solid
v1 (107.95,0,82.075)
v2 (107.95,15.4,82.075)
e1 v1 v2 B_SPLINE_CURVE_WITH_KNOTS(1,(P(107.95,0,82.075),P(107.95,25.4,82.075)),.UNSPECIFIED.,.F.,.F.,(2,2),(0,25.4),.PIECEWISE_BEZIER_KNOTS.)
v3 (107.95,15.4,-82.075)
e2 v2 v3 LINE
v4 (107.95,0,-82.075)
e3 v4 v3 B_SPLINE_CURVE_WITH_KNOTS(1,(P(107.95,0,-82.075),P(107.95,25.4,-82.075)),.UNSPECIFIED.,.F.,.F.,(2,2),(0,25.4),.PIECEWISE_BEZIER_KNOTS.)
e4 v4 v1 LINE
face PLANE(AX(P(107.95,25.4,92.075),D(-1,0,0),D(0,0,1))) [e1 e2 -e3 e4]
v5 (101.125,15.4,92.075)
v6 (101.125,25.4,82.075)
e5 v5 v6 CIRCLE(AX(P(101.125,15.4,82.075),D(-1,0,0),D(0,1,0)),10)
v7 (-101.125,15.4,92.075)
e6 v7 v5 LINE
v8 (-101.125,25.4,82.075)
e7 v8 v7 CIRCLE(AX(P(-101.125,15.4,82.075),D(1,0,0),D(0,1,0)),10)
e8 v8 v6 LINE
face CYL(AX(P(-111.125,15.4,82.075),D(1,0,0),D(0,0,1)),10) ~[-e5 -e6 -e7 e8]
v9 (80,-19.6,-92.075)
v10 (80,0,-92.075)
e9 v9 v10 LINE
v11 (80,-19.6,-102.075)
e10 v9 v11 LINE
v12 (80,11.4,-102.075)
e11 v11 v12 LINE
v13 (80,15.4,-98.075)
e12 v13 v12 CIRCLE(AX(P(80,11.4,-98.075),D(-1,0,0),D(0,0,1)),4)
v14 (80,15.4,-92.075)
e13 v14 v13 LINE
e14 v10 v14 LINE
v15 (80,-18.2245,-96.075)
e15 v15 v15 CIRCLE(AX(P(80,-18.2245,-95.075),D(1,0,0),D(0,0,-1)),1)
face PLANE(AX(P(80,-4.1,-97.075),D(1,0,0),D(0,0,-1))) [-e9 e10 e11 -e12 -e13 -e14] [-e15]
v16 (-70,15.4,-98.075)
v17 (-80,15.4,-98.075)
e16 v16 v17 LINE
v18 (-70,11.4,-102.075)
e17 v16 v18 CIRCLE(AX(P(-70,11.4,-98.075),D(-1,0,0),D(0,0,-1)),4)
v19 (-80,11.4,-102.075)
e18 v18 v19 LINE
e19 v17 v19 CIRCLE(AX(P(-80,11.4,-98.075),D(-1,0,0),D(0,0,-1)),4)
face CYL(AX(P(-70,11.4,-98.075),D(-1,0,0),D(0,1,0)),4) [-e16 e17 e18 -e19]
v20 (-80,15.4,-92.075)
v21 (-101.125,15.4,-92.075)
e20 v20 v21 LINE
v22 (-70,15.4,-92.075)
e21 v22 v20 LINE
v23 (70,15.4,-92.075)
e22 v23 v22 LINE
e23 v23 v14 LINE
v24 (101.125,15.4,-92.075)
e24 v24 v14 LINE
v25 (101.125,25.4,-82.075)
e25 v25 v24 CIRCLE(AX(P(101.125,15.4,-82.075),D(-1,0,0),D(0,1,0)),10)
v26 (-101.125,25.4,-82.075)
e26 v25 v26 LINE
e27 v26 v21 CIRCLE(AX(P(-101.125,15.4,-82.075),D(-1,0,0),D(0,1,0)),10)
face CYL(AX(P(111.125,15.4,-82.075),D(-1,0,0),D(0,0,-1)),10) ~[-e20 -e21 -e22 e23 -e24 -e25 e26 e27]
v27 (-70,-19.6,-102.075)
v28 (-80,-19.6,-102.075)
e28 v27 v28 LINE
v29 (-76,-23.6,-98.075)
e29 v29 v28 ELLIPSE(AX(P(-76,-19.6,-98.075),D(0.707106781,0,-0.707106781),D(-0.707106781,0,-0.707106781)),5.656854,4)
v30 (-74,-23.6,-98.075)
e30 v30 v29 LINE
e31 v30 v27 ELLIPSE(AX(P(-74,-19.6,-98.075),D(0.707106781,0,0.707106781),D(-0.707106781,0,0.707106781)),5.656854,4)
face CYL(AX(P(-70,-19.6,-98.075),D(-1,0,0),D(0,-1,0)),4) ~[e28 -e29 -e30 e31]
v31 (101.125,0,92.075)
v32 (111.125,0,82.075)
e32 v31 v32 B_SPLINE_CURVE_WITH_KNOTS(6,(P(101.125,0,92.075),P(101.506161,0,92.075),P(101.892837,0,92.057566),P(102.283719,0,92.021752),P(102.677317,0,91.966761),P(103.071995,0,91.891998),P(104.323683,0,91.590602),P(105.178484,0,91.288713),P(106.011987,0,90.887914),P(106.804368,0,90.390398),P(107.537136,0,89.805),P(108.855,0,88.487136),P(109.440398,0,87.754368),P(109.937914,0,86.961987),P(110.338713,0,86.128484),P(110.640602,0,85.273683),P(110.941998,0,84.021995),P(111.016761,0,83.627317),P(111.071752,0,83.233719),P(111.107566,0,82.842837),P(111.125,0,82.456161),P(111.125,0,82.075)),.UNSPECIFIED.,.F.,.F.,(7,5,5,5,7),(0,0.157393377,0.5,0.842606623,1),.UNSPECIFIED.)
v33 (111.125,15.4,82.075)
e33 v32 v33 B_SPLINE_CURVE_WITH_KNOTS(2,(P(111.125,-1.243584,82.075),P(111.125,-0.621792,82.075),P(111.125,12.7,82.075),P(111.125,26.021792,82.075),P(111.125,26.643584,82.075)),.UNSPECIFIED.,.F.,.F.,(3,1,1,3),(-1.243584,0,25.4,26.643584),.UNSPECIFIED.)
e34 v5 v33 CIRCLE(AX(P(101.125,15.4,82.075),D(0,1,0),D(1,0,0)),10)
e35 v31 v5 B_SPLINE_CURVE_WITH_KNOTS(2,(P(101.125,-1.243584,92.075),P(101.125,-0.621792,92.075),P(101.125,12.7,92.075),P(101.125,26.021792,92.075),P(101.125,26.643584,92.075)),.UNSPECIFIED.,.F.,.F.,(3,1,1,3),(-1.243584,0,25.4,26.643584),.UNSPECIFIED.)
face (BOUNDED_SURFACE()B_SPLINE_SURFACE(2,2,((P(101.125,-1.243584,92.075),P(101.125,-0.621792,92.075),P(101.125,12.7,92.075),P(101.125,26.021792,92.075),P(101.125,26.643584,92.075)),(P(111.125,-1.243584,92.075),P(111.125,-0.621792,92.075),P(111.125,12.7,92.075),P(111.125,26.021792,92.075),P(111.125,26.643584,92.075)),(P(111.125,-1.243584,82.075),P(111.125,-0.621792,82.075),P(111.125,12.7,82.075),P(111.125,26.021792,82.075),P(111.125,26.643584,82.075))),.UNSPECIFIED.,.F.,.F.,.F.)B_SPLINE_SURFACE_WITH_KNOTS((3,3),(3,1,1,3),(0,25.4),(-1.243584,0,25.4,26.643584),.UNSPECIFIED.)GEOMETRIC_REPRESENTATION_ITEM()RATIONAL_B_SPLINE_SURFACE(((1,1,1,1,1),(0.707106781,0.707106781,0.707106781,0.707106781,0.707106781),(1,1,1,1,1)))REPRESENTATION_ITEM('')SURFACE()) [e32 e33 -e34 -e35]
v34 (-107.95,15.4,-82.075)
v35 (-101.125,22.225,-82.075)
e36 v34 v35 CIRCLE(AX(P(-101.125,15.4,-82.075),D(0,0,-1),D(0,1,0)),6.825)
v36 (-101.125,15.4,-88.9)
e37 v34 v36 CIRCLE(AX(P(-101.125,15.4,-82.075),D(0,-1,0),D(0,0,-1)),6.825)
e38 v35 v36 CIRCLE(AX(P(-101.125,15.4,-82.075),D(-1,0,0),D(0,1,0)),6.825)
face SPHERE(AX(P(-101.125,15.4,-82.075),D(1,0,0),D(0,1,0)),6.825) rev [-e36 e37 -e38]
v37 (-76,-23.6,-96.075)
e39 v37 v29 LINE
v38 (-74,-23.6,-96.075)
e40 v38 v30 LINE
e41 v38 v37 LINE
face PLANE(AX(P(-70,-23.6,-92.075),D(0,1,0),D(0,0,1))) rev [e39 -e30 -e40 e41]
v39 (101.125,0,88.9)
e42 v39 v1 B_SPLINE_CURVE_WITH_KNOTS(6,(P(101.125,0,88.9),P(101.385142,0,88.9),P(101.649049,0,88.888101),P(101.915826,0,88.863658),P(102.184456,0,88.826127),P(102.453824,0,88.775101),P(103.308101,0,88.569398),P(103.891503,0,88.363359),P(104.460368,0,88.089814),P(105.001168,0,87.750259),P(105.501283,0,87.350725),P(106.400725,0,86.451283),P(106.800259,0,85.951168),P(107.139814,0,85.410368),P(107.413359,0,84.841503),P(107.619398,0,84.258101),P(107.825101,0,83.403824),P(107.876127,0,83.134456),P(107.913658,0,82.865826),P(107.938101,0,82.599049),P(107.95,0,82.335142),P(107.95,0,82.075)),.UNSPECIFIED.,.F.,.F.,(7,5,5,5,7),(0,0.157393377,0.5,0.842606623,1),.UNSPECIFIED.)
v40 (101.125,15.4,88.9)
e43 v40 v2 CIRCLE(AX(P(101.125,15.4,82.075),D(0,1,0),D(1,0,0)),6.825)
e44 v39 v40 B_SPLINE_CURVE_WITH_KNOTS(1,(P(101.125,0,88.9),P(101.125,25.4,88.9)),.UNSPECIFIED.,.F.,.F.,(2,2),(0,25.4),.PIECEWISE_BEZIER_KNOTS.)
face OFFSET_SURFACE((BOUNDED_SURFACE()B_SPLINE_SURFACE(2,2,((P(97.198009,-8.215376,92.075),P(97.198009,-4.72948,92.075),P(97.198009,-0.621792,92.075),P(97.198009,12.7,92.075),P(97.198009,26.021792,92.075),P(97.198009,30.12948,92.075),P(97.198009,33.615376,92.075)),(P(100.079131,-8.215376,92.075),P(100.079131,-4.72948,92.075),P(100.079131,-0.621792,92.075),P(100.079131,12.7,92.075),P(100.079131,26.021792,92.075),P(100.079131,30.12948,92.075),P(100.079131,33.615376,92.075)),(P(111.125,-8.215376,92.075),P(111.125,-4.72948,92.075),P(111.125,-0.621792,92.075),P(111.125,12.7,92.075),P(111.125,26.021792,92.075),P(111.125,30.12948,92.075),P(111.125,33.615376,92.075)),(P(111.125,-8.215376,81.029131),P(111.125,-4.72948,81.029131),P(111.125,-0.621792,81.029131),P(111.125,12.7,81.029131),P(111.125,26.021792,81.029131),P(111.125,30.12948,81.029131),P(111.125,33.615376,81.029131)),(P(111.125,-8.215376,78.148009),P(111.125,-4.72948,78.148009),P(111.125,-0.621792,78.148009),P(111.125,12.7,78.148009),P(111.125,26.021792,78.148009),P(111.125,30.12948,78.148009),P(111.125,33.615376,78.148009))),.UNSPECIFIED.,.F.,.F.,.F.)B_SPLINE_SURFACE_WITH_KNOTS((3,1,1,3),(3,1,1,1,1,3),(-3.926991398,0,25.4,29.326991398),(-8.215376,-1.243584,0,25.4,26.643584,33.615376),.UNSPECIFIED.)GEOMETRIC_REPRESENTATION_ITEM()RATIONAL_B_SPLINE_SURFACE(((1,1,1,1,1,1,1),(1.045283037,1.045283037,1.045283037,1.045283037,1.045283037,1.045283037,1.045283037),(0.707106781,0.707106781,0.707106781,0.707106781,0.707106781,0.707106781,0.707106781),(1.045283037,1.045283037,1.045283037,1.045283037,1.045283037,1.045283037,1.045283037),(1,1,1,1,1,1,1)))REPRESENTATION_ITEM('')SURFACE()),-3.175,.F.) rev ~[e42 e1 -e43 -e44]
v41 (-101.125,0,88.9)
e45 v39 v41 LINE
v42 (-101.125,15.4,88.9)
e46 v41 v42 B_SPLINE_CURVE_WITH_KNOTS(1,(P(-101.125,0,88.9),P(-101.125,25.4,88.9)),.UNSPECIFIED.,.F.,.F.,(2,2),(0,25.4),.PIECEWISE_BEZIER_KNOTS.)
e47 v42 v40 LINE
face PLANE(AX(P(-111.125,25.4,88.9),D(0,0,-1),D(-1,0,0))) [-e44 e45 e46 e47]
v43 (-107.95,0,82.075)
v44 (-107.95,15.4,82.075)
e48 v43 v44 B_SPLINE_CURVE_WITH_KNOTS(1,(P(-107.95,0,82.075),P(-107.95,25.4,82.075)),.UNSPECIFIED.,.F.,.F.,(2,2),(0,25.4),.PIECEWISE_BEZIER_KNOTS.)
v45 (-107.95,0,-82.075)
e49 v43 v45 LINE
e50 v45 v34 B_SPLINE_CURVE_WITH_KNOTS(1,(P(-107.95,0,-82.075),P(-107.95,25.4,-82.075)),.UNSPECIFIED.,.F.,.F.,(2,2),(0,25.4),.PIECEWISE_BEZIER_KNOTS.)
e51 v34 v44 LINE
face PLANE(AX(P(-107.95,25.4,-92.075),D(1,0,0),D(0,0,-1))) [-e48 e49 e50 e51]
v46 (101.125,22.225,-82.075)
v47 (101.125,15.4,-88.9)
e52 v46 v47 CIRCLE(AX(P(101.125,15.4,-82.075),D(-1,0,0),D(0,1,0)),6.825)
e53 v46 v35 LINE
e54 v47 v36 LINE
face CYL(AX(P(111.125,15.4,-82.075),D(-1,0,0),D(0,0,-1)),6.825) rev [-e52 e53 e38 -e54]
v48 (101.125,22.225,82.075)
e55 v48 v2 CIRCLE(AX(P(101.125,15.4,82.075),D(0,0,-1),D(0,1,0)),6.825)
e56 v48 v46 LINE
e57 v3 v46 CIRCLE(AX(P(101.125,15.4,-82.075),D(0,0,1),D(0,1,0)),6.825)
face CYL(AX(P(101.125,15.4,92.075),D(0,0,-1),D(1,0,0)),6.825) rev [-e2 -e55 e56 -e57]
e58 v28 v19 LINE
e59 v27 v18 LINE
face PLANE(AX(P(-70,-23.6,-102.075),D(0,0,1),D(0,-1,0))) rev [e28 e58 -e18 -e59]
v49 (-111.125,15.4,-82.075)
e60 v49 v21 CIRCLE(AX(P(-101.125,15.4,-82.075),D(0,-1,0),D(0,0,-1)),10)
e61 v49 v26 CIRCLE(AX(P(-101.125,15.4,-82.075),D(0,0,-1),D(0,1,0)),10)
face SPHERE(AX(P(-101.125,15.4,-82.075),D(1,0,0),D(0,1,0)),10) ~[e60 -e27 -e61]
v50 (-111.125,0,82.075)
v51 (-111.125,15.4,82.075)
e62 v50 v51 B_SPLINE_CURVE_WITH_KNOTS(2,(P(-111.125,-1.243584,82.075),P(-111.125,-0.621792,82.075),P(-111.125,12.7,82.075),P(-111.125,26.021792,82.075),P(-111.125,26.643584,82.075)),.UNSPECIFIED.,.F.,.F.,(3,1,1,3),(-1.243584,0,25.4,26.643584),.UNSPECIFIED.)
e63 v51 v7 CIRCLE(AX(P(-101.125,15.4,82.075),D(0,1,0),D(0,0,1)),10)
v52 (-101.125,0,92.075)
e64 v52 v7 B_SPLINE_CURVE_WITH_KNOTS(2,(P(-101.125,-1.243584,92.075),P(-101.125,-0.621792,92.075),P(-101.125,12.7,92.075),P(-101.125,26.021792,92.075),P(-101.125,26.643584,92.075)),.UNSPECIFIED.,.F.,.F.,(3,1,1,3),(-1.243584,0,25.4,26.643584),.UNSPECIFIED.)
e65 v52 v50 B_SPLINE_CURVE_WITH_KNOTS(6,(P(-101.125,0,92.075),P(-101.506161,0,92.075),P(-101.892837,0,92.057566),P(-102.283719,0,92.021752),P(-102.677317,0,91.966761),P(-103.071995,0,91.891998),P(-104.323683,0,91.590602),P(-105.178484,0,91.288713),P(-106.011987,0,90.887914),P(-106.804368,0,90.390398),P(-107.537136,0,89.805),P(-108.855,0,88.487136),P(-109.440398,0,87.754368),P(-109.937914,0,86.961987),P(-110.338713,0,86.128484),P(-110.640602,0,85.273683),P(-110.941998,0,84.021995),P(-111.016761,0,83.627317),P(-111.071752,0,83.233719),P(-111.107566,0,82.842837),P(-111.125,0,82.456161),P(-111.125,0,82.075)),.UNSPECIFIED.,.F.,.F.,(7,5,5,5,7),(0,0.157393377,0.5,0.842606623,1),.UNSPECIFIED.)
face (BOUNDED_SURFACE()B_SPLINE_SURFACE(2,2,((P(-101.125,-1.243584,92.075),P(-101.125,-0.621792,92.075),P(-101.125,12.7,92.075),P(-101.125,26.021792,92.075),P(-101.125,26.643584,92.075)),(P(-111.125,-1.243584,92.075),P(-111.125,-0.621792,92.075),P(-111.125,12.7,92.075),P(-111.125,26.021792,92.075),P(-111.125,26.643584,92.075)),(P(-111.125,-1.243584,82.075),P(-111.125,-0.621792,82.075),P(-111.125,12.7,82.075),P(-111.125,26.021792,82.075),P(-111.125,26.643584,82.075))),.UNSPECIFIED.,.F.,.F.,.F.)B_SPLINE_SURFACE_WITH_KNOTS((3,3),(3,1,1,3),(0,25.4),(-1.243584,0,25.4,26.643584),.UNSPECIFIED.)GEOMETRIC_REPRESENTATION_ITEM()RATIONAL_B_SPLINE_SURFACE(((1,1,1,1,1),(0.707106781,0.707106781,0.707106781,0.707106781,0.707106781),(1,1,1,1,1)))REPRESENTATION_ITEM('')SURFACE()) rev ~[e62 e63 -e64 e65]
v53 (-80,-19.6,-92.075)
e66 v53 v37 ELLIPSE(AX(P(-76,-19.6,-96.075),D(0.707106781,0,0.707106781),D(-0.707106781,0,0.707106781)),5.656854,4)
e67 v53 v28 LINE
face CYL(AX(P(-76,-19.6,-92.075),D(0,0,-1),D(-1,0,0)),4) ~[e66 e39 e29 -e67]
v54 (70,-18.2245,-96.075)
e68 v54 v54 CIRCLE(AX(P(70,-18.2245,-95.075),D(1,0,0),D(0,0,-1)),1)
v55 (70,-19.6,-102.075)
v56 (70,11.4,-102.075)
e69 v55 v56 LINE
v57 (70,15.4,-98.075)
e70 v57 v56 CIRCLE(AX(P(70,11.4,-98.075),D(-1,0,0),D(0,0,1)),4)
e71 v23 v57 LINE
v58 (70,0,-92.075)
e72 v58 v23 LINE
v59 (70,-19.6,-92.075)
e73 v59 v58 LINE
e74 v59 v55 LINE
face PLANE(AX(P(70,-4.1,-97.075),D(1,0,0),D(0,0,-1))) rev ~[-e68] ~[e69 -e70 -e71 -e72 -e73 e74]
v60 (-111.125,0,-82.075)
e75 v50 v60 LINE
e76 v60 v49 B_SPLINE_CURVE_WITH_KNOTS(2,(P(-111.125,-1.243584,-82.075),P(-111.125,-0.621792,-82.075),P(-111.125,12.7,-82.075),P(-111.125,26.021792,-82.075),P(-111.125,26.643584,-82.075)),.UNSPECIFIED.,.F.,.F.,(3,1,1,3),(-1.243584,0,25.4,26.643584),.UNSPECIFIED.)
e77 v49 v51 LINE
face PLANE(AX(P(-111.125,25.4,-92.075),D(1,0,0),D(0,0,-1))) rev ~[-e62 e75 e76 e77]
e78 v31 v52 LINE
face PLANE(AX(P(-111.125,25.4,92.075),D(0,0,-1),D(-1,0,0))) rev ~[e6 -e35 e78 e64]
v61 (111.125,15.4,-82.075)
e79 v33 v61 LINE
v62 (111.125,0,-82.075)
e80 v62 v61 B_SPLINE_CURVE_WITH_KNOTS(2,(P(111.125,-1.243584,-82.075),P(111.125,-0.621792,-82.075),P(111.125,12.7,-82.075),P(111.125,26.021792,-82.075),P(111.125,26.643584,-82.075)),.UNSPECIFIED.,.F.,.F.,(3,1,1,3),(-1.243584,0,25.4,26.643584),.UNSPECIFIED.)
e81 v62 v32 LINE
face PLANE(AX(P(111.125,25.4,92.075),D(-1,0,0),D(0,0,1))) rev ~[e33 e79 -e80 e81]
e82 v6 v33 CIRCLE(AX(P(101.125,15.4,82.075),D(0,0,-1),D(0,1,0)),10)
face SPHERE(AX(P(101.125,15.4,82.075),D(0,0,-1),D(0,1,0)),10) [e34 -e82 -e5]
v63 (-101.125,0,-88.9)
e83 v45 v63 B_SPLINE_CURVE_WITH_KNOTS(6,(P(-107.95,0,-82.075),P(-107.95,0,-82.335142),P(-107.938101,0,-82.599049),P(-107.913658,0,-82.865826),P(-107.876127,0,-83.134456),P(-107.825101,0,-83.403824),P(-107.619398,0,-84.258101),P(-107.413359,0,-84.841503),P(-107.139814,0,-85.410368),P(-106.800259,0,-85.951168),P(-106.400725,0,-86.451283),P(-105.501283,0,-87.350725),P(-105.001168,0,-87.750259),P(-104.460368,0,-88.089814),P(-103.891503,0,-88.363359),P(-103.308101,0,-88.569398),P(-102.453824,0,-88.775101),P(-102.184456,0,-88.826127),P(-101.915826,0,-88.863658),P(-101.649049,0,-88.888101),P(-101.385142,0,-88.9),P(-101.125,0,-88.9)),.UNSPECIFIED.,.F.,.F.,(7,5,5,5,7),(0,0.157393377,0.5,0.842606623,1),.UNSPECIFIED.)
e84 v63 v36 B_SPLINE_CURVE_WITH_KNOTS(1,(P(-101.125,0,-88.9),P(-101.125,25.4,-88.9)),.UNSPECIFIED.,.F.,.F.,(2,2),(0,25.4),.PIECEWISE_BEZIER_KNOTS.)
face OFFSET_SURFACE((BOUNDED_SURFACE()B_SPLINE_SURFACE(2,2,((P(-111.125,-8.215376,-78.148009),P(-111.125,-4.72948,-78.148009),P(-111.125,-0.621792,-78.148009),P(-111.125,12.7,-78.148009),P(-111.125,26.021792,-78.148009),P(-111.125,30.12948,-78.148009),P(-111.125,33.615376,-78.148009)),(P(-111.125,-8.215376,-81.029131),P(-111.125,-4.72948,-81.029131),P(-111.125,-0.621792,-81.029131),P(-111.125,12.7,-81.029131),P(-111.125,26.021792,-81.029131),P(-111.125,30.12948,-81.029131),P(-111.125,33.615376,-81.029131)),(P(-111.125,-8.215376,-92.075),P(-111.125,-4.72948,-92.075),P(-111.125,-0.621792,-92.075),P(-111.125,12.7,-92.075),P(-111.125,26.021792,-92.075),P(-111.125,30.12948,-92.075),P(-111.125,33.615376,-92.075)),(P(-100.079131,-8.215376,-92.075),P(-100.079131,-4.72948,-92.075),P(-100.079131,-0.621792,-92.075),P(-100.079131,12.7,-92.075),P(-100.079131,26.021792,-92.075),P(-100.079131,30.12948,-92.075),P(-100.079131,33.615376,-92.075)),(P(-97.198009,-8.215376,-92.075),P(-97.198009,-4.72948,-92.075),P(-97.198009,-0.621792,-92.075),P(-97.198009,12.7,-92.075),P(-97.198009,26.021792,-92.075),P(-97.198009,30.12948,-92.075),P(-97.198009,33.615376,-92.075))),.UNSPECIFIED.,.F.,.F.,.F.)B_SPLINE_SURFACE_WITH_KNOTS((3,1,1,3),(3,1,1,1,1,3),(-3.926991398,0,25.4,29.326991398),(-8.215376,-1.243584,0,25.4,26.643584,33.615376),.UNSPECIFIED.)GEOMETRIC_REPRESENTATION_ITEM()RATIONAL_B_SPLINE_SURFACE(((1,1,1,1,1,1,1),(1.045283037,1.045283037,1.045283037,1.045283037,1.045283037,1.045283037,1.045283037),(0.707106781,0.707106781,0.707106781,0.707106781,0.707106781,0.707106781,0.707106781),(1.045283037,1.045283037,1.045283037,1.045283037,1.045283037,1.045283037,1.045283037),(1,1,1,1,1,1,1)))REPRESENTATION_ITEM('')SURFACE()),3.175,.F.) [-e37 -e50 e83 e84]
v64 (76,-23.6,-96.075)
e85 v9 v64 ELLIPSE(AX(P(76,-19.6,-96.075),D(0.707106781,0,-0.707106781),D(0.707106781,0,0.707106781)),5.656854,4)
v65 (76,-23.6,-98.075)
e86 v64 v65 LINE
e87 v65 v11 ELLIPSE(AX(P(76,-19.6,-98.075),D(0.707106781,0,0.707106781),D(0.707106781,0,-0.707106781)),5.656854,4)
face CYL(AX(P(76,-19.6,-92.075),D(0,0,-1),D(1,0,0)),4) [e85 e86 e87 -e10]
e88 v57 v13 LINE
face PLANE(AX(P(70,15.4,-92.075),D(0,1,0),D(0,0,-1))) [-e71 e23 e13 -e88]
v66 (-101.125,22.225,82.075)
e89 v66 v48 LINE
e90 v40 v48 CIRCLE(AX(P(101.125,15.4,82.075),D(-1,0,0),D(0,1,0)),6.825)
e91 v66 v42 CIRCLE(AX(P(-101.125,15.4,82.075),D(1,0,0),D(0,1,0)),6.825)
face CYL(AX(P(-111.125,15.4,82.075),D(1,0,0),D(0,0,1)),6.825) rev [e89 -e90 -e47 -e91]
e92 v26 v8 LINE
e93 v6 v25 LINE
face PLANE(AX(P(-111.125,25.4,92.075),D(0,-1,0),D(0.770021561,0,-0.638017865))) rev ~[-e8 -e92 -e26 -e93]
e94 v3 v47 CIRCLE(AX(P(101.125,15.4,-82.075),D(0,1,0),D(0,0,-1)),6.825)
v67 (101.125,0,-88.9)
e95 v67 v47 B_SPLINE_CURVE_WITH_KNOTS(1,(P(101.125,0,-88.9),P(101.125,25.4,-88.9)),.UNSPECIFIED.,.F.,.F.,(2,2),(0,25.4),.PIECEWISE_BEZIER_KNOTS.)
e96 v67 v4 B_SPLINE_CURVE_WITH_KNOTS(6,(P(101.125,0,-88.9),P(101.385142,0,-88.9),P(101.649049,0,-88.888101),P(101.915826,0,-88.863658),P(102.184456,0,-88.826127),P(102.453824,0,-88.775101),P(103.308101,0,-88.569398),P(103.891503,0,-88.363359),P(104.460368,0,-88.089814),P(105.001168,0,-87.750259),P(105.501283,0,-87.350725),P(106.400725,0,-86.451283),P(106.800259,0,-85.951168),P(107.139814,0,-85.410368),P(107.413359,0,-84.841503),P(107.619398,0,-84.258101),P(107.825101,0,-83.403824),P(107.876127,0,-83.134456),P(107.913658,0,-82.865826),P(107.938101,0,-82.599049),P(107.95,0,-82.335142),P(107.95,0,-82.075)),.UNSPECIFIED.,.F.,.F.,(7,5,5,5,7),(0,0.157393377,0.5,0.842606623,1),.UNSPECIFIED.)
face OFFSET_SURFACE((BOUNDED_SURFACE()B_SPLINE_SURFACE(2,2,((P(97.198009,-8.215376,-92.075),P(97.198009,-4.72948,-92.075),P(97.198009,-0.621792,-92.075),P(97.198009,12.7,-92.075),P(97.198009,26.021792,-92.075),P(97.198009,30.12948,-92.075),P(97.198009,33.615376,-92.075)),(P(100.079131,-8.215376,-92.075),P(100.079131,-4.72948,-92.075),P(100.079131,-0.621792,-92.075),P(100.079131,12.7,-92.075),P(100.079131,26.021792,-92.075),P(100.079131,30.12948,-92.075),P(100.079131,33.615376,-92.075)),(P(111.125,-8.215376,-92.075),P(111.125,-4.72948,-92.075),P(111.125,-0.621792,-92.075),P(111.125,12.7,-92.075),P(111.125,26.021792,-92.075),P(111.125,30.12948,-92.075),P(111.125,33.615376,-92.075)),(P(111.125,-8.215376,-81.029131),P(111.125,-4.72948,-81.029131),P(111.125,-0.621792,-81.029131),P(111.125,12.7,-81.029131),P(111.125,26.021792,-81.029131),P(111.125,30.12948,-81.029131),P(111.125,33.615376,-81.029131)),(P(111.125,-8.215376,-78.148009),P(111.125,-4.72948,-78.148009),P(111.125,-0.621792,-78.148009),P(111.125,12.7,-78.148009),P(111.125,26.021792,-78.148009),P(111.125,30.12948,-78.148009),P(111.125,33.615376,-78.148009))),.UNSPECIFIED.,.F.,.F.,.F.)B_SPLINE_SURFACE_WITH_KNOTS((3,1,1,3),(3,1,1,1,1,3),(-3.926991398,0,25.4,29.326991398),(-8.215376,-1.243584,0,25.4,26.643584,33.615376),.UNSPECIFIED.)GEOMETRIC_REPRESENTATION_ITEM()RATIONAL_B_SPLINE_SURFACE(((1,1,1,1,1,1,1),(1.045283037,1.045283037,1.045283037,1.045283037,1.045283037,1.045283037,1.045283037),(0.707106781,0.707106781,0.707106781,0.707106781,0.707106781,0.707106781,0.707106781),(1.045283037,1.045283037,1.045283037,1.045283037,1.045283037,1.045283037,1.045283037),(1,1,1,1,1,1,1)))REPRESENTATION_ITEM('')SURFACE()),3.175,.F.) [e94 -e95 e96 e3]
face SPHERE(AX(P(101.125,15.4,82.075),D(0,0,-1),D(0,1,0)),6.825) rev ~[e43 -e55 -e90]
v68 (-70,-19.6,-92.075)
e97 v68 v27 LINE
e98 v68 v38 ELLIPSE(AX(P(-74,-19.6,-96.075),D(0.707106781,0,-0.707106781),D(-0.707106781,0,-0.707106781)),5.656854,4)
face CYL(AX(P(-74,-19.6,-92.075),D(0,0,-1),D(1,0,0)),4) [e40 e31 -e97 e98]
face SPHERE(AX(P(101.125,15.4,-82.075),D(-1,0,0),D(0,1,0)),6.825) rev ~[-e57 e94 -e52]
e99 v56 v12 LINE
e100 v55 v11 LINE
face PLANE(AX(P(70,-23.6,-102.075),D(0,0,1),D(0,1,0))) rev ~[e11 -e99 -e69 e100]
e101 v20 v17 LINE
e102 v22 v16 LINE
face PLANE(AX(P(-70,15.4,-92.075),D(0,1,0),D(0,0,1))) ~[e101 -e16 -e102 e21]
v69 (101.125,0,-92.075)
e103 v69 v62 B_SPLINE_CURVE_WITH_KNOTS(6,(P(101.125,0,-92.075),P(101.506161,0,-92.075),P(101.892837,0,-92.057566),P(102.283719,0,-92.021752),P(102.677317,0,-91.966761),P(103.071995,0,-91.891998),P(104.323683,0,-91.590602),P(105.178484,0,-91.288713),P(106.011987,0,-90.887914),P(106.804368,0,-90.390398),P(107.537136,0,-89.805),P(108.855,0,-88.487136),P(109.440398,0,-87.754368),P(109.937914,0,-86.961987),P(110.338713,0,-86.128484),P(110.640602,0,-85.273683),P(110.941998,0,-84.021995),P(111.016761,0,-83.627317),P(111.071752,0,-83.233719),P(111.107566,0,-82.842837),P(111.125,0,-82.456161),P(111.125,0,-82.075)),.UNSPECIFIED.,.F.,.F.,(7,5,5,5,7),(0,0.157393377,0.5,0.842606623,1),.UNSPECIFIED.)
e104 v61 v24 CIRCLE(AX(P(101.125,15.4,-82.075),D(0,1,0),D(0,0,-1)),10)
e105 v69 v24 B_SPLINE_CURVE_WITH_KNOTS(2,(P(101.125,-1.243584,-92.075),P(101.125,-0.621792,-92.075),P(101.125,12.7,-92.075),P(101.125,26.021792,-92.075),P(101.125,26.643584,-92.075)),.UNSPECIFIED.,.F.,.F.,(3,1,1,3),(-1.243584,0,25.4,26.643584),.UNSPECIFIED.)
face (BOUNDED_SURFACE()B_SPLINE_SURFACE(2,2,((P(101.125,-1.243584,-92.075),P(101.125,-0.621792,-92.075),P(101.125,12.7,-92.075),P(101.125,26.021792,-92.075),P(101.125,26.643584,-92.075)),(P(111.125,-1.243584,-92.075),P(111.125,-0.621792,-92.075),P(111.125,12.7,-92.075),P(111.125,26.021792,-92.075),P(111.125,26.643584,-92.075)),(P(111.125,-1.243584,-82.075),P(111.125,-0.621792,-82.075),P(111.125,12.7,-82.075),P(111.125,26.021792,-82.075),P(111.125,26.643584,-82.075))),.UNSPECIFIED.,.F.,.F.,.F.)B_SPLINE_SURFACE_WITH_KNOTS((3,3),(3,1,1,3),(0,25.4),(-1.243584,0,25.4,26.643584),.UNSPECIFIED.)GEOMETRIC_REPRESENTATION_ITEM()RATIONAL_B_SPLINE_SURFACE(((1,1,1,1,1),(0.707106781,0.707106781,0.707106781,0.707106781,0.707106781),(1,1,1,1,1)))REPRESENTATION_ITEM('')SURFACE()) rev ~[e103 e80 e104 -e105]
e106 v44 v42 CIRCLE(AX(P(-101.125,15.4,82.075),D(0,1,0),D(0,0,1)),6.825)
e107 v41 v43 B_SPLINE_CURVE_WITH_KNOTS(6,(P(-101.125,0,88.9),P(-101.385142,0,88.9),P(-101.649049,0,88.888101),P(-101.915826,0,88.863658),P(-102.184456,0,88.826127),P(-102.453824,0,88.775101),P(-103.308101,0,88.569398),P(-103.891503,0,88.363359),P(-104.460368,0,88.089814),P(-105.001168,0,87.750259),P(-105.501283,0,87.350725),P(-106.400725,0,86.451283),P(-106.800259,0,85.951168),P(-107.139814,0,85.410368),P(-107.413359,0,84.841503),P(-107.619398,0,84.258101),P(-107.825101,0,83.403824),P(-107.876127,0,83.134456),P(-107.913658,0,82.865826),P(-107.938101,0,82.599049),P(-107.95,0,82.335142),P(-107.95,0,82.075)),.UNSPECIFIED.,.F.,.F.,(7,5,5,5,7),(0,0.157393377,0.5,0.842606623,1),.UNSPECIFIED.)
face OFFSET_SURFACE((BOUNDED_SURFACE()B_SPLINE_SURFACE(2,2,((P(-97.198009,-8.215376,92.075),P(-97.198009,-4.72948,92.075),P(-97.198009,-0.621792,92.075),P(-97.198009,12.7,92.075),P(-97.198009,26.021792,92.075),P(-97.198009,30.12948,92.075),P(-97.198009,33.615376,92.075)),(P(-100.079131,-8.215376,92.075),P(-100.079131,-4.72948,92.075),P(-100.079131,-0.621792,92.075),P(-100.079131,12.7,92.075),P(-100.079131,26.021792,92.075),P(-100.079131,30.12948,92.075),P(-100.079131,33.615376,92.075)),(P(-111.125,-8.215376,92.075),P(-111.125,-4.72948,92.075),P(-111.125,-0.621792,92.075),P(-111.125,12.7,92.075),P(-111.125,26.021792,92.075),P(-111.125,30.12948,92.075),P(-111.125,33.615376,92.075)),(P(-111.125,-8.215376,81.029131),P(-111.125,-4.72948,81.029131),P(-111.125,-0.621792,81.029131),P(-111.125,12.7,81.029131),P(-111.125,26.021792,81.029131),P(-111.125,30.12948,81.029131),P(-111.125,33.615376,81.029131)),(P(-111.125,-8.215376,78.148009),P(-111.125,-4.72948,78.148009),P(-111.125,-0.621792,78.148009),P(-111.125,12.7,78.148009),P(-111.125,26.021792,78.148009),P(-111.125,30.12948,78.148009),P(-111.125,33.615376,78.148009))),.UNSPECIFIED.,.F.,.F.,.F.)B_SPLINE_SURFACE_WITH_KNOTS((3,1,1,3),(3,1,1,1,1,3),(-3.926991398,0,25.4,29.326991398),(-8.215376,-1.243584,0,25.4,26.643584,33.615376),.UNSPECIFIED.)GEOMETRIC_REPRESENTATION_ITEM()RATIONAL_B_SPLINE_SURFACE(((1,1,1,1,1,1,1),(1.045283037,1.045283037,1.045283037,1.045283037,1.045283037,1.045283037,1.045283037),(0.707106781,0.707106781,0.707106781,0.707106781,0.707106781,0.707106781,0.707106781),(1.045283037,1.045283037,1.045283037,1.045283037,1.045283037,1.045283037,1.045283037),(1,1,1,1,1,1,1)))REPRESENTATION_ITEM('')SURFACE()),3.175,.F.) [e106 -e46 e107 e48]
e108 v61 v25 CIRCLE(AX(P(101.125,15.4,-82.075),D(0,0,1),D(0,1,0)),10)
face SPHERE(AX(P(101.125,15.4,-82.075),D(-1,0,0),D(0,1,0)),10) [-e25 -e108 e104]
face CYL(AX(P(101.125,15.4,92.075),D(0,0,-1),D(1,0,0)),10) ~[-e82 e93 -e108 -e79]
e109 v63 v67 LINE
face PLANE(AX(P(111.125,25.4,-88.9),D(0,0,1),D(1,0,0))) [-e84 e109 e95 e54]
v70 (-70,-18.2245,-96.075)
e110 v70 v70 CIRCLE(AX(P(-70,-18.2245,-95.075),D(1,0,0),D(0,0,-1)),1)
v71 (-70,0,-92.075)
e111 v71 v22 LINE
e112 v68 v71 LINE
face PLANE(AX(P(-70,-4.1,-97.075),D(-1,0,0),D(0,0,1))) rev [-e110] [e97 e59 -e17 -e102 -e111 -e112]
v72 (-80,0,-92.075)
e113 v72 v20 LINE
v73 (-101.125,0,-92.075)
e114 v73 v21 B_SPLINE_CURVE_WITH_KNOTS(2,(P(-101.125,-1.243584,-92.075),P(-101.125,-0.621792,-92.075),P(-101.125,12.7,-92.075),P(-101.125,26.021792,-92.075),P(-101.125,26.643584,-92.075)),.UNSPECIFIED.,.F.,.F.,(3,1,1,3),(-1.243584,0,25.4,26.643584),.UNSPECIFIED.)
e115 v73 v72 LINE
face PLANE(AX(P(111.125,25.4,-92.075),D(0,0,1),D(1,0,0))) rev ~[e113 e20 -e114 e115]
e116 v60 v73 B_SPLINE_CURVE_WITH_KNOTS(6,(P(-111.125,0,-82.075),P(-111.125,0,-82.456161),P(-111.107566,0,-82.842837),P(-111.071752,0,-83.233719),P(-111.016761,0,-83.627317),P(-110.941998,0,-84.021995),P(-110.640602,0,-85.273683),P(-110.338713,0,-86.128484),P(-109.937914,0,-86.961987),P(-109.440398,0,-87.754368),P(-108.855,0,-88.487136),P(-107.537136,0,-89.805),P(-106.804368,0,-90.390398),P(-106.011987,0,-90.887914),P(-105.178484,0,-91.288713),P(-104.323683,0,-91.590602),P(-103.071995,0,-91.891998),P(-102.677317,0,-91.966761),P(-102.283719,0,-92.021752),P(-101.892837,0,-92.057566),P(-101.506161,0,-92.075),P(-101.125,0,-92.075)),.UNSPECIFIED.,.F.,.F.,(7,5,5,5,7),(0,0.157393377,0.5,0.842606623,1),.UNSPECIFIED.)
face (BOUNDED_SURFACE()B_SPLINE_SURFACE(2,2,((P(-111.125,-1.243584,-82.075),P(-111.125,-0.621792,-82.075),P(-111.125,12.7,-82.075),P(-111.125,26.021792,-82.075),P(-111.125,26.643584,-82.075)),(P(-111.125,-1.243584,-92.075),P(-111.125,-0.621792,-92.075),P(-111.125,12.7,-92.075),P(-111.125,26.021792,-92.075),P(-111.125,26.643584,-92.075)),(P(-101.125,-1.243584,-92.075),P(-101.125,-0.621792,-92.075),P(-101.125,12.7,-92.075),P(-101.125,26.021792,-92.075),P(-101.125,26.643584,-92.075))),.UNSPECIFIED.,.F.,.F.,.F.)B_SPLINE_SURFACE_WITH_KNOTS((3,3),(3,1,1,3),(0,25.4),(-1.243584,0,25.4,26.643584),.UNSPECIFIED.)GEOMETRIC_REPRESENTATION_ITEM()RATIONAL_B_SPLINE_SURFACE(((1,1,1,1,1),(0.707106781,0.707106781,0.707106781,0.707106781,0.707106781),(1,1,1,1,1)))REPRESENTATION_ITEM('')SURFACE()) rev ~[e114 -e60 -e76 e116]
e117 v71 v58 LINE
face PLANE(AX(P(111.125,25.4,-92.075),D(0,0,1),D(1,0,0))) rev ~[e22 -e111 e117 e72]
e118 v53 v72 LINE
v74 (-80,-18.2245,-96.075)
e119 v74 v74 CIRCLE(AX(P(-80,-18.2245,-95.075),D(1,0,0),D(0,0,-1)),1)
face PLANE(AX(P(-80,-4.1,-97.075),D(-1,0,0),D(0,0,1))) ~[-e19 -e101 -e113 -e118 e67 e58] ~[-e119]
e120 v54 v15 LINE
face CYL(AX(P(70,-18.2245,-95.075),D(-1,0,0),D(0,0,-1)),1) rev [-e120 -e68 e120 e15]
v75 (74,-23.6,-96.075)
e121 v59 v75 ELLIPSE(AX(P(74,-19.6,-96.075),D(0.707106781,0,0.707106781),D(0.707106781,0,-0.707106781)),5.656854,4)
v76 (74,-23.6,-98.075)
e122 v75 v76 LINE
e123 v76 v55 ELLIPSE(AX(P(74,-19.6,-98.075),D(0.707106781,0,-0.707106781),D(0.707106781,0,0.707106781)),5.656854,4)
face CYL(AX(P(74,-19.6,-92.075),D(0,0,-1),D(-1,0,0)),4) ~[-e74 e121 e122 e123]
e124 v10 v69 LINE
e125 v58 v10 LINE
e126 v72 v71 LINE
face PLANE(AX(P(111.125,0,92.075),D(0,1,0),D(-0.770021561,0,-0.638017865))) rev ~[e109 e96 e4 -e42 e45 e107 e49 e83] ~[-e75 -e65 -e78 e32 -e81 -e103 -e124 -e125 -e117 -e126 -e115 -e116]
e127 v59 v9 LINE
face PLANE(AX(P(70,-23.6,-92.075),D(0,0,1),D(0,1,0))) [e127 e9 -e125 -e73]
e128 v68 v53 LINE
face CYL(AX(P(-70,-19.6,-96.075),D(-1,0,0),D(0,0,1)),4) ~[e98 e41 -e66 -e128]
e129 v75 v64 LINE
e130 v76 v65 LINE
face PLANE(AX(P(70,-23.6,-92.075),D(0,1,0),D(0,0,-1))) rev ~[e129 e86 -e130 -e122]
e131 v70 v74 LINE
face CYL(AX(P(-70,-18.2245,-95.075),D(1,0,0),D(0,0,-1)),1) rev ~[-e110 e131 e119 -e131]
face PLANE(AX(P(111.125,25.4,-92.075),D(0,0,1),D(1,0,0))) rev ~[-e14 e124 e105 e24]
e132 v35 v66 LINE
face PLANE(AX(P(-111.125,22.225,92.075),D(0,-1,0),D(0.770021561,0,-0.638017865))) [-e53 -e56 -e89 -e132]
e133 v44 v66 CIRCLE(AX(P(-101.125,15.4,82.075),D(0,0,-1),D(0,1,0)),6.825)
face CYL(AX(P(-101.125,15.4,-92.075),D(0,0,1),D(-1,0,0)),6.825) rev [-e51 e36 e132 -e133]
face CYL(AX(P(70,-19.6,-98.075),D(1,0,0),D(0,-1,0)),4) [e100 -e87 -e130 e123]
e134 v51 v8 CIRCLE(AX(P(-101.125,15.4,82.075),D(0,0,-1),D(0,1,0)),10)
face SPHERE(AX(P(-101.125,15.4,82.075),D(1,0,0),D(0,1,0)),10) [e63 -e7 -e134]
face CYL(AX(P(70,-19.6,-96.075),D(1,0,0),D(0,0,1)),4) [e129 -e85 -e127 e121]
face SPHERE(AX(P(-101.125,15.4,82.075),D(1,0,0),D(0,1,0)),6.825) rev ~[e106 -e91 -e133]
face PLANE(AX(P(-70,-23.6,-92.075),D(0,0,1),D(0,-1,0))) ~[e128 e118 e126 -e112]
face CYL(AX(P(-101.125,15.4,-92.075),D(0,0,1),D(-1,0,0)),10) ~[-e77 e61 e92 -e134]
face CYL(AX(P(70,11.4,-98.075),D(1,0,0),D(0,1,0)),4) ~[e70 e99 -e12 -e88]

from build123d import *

# Parameters (mm, degrees)
FILLET1_R            = 10
SHELL1_T             = -3.175
SKETCH7_W            = 10
SKETCH7_H            = 39
SKETCH7_R            = 1
BOSS_EXTRUDE1_DEPTH  = 10
FILLET2_R            = 4
FILLET2_OF_MIRROR1_R = 4


with BuildPart() as part:
    # Sketch1 → Loft3 section 0
    with BuildSketch(Plane(origin=(0, 0, 0), x_dir=(1, 0, 0), z_dir=(0, 1, 0))):
        with BuildLine():
            Line((111.125, -92.075), (-111.125, -92.075))
            Line((-111.125, -92.075), (-111.125, 92.075))
            Line((-111.125, 92.075), (111.125, 92.075))
            Line((111.125, 92.075), (111.125, -92.075))
        make_face()
    # Sketch2 → Loft3 section 1
    with BuildSketch(Plane(origin=(0, 25.4, 0), x_dir=(1, 0, 0), z_dir=(0, 1, 0))):
        with BuildLine():
            Line((111.125, 92.075), (-111.125, 92.075))
            Line((-111.125, 92.075), (-111.125, -92.075))
            Line((-111.125, -92.075), (111.125, -92.075))
            Line((111.125, -92.075), (111.125, 92.075))
        make_face()
    loft()

    # Fillet1
    fillet1_edges = [part.edges().sort_by_distance(p)[0] for p in [
        (0, 25.4, -92.075),
        (111.125, 25.4, 0),
        (0, 25.4, 92.075),
        (-111.125, 25.4, 0),
        (111.125, 12.7, -92.075),
        (111.125, 12.7, 92.075),
        (-111.125, 12.7, -92.075),
        (-111.125, 12.7, 92.075),
    ]]
    fillet(fillet1_edges, radius=FILLET1_R)

    # Shell1
    shell1_openings = [part.faces().sort_by_distance(p)[0] for p in [
        (-6.8e-08, 0, 8.2e-08),
    ]]
    offset(amount=SHELL1_T, openings=shell1_openings)

    # Sketch7 → Boss-Extrude1 (add)
    with BuildSketch(Plane(origin=(70, 0, 0), x_dir=(0, 0, -1), z_dir=(1, 0, 0))):
        with Locations((97.075, -4.1)):
            Rectangle(SKETCH7_W, SKETCH7_H)
        with Locations((95.075, -18.2245)):
            Circle(SKETCH7_R, mode=Mode.SUBTRACT)
    boss_extrude1 = extrude(amount=BOSS_EXTRUDE1_DEPTH)

    # Fillet2
    fillet2_edges = [part.edges().sort_by_distance(p)[0] for p in [
        (75, -23.6, -102.075),
        (75, 15.4, -102.075),
        (70, -23.6, -97.075),
        (75, -23.6, -92.075),
        (80, -23.6, -97.075),
    ]]
    fillet(fillet2_edges, radius=FILLET2_R)

    # Mirror1: Boss-Extrude1 across plane
    add(boss_extrude1.mirror(Plane(origin=(0, 0, 0), x_dir=(0, 0, 1), z_dir=(1, 0, 0))))

    # Fillet2 of Mirror1
    fillet2_of_mirror1_edges = [part.edges().sort_by_distance(p)[0] for p in [
        (-75, -23.6, -102.075),
        (-75, 15.4, -102.075),
        (-70, -23.6, -97.075),
        (-75, -23.6, -92.075),
        (-80, -23.6, -97.075),
    ]]
    fillet(fillet2_of_mirror1_edges, radius=FILLET2_OF_MIRROR1_R)


solid = part.part
